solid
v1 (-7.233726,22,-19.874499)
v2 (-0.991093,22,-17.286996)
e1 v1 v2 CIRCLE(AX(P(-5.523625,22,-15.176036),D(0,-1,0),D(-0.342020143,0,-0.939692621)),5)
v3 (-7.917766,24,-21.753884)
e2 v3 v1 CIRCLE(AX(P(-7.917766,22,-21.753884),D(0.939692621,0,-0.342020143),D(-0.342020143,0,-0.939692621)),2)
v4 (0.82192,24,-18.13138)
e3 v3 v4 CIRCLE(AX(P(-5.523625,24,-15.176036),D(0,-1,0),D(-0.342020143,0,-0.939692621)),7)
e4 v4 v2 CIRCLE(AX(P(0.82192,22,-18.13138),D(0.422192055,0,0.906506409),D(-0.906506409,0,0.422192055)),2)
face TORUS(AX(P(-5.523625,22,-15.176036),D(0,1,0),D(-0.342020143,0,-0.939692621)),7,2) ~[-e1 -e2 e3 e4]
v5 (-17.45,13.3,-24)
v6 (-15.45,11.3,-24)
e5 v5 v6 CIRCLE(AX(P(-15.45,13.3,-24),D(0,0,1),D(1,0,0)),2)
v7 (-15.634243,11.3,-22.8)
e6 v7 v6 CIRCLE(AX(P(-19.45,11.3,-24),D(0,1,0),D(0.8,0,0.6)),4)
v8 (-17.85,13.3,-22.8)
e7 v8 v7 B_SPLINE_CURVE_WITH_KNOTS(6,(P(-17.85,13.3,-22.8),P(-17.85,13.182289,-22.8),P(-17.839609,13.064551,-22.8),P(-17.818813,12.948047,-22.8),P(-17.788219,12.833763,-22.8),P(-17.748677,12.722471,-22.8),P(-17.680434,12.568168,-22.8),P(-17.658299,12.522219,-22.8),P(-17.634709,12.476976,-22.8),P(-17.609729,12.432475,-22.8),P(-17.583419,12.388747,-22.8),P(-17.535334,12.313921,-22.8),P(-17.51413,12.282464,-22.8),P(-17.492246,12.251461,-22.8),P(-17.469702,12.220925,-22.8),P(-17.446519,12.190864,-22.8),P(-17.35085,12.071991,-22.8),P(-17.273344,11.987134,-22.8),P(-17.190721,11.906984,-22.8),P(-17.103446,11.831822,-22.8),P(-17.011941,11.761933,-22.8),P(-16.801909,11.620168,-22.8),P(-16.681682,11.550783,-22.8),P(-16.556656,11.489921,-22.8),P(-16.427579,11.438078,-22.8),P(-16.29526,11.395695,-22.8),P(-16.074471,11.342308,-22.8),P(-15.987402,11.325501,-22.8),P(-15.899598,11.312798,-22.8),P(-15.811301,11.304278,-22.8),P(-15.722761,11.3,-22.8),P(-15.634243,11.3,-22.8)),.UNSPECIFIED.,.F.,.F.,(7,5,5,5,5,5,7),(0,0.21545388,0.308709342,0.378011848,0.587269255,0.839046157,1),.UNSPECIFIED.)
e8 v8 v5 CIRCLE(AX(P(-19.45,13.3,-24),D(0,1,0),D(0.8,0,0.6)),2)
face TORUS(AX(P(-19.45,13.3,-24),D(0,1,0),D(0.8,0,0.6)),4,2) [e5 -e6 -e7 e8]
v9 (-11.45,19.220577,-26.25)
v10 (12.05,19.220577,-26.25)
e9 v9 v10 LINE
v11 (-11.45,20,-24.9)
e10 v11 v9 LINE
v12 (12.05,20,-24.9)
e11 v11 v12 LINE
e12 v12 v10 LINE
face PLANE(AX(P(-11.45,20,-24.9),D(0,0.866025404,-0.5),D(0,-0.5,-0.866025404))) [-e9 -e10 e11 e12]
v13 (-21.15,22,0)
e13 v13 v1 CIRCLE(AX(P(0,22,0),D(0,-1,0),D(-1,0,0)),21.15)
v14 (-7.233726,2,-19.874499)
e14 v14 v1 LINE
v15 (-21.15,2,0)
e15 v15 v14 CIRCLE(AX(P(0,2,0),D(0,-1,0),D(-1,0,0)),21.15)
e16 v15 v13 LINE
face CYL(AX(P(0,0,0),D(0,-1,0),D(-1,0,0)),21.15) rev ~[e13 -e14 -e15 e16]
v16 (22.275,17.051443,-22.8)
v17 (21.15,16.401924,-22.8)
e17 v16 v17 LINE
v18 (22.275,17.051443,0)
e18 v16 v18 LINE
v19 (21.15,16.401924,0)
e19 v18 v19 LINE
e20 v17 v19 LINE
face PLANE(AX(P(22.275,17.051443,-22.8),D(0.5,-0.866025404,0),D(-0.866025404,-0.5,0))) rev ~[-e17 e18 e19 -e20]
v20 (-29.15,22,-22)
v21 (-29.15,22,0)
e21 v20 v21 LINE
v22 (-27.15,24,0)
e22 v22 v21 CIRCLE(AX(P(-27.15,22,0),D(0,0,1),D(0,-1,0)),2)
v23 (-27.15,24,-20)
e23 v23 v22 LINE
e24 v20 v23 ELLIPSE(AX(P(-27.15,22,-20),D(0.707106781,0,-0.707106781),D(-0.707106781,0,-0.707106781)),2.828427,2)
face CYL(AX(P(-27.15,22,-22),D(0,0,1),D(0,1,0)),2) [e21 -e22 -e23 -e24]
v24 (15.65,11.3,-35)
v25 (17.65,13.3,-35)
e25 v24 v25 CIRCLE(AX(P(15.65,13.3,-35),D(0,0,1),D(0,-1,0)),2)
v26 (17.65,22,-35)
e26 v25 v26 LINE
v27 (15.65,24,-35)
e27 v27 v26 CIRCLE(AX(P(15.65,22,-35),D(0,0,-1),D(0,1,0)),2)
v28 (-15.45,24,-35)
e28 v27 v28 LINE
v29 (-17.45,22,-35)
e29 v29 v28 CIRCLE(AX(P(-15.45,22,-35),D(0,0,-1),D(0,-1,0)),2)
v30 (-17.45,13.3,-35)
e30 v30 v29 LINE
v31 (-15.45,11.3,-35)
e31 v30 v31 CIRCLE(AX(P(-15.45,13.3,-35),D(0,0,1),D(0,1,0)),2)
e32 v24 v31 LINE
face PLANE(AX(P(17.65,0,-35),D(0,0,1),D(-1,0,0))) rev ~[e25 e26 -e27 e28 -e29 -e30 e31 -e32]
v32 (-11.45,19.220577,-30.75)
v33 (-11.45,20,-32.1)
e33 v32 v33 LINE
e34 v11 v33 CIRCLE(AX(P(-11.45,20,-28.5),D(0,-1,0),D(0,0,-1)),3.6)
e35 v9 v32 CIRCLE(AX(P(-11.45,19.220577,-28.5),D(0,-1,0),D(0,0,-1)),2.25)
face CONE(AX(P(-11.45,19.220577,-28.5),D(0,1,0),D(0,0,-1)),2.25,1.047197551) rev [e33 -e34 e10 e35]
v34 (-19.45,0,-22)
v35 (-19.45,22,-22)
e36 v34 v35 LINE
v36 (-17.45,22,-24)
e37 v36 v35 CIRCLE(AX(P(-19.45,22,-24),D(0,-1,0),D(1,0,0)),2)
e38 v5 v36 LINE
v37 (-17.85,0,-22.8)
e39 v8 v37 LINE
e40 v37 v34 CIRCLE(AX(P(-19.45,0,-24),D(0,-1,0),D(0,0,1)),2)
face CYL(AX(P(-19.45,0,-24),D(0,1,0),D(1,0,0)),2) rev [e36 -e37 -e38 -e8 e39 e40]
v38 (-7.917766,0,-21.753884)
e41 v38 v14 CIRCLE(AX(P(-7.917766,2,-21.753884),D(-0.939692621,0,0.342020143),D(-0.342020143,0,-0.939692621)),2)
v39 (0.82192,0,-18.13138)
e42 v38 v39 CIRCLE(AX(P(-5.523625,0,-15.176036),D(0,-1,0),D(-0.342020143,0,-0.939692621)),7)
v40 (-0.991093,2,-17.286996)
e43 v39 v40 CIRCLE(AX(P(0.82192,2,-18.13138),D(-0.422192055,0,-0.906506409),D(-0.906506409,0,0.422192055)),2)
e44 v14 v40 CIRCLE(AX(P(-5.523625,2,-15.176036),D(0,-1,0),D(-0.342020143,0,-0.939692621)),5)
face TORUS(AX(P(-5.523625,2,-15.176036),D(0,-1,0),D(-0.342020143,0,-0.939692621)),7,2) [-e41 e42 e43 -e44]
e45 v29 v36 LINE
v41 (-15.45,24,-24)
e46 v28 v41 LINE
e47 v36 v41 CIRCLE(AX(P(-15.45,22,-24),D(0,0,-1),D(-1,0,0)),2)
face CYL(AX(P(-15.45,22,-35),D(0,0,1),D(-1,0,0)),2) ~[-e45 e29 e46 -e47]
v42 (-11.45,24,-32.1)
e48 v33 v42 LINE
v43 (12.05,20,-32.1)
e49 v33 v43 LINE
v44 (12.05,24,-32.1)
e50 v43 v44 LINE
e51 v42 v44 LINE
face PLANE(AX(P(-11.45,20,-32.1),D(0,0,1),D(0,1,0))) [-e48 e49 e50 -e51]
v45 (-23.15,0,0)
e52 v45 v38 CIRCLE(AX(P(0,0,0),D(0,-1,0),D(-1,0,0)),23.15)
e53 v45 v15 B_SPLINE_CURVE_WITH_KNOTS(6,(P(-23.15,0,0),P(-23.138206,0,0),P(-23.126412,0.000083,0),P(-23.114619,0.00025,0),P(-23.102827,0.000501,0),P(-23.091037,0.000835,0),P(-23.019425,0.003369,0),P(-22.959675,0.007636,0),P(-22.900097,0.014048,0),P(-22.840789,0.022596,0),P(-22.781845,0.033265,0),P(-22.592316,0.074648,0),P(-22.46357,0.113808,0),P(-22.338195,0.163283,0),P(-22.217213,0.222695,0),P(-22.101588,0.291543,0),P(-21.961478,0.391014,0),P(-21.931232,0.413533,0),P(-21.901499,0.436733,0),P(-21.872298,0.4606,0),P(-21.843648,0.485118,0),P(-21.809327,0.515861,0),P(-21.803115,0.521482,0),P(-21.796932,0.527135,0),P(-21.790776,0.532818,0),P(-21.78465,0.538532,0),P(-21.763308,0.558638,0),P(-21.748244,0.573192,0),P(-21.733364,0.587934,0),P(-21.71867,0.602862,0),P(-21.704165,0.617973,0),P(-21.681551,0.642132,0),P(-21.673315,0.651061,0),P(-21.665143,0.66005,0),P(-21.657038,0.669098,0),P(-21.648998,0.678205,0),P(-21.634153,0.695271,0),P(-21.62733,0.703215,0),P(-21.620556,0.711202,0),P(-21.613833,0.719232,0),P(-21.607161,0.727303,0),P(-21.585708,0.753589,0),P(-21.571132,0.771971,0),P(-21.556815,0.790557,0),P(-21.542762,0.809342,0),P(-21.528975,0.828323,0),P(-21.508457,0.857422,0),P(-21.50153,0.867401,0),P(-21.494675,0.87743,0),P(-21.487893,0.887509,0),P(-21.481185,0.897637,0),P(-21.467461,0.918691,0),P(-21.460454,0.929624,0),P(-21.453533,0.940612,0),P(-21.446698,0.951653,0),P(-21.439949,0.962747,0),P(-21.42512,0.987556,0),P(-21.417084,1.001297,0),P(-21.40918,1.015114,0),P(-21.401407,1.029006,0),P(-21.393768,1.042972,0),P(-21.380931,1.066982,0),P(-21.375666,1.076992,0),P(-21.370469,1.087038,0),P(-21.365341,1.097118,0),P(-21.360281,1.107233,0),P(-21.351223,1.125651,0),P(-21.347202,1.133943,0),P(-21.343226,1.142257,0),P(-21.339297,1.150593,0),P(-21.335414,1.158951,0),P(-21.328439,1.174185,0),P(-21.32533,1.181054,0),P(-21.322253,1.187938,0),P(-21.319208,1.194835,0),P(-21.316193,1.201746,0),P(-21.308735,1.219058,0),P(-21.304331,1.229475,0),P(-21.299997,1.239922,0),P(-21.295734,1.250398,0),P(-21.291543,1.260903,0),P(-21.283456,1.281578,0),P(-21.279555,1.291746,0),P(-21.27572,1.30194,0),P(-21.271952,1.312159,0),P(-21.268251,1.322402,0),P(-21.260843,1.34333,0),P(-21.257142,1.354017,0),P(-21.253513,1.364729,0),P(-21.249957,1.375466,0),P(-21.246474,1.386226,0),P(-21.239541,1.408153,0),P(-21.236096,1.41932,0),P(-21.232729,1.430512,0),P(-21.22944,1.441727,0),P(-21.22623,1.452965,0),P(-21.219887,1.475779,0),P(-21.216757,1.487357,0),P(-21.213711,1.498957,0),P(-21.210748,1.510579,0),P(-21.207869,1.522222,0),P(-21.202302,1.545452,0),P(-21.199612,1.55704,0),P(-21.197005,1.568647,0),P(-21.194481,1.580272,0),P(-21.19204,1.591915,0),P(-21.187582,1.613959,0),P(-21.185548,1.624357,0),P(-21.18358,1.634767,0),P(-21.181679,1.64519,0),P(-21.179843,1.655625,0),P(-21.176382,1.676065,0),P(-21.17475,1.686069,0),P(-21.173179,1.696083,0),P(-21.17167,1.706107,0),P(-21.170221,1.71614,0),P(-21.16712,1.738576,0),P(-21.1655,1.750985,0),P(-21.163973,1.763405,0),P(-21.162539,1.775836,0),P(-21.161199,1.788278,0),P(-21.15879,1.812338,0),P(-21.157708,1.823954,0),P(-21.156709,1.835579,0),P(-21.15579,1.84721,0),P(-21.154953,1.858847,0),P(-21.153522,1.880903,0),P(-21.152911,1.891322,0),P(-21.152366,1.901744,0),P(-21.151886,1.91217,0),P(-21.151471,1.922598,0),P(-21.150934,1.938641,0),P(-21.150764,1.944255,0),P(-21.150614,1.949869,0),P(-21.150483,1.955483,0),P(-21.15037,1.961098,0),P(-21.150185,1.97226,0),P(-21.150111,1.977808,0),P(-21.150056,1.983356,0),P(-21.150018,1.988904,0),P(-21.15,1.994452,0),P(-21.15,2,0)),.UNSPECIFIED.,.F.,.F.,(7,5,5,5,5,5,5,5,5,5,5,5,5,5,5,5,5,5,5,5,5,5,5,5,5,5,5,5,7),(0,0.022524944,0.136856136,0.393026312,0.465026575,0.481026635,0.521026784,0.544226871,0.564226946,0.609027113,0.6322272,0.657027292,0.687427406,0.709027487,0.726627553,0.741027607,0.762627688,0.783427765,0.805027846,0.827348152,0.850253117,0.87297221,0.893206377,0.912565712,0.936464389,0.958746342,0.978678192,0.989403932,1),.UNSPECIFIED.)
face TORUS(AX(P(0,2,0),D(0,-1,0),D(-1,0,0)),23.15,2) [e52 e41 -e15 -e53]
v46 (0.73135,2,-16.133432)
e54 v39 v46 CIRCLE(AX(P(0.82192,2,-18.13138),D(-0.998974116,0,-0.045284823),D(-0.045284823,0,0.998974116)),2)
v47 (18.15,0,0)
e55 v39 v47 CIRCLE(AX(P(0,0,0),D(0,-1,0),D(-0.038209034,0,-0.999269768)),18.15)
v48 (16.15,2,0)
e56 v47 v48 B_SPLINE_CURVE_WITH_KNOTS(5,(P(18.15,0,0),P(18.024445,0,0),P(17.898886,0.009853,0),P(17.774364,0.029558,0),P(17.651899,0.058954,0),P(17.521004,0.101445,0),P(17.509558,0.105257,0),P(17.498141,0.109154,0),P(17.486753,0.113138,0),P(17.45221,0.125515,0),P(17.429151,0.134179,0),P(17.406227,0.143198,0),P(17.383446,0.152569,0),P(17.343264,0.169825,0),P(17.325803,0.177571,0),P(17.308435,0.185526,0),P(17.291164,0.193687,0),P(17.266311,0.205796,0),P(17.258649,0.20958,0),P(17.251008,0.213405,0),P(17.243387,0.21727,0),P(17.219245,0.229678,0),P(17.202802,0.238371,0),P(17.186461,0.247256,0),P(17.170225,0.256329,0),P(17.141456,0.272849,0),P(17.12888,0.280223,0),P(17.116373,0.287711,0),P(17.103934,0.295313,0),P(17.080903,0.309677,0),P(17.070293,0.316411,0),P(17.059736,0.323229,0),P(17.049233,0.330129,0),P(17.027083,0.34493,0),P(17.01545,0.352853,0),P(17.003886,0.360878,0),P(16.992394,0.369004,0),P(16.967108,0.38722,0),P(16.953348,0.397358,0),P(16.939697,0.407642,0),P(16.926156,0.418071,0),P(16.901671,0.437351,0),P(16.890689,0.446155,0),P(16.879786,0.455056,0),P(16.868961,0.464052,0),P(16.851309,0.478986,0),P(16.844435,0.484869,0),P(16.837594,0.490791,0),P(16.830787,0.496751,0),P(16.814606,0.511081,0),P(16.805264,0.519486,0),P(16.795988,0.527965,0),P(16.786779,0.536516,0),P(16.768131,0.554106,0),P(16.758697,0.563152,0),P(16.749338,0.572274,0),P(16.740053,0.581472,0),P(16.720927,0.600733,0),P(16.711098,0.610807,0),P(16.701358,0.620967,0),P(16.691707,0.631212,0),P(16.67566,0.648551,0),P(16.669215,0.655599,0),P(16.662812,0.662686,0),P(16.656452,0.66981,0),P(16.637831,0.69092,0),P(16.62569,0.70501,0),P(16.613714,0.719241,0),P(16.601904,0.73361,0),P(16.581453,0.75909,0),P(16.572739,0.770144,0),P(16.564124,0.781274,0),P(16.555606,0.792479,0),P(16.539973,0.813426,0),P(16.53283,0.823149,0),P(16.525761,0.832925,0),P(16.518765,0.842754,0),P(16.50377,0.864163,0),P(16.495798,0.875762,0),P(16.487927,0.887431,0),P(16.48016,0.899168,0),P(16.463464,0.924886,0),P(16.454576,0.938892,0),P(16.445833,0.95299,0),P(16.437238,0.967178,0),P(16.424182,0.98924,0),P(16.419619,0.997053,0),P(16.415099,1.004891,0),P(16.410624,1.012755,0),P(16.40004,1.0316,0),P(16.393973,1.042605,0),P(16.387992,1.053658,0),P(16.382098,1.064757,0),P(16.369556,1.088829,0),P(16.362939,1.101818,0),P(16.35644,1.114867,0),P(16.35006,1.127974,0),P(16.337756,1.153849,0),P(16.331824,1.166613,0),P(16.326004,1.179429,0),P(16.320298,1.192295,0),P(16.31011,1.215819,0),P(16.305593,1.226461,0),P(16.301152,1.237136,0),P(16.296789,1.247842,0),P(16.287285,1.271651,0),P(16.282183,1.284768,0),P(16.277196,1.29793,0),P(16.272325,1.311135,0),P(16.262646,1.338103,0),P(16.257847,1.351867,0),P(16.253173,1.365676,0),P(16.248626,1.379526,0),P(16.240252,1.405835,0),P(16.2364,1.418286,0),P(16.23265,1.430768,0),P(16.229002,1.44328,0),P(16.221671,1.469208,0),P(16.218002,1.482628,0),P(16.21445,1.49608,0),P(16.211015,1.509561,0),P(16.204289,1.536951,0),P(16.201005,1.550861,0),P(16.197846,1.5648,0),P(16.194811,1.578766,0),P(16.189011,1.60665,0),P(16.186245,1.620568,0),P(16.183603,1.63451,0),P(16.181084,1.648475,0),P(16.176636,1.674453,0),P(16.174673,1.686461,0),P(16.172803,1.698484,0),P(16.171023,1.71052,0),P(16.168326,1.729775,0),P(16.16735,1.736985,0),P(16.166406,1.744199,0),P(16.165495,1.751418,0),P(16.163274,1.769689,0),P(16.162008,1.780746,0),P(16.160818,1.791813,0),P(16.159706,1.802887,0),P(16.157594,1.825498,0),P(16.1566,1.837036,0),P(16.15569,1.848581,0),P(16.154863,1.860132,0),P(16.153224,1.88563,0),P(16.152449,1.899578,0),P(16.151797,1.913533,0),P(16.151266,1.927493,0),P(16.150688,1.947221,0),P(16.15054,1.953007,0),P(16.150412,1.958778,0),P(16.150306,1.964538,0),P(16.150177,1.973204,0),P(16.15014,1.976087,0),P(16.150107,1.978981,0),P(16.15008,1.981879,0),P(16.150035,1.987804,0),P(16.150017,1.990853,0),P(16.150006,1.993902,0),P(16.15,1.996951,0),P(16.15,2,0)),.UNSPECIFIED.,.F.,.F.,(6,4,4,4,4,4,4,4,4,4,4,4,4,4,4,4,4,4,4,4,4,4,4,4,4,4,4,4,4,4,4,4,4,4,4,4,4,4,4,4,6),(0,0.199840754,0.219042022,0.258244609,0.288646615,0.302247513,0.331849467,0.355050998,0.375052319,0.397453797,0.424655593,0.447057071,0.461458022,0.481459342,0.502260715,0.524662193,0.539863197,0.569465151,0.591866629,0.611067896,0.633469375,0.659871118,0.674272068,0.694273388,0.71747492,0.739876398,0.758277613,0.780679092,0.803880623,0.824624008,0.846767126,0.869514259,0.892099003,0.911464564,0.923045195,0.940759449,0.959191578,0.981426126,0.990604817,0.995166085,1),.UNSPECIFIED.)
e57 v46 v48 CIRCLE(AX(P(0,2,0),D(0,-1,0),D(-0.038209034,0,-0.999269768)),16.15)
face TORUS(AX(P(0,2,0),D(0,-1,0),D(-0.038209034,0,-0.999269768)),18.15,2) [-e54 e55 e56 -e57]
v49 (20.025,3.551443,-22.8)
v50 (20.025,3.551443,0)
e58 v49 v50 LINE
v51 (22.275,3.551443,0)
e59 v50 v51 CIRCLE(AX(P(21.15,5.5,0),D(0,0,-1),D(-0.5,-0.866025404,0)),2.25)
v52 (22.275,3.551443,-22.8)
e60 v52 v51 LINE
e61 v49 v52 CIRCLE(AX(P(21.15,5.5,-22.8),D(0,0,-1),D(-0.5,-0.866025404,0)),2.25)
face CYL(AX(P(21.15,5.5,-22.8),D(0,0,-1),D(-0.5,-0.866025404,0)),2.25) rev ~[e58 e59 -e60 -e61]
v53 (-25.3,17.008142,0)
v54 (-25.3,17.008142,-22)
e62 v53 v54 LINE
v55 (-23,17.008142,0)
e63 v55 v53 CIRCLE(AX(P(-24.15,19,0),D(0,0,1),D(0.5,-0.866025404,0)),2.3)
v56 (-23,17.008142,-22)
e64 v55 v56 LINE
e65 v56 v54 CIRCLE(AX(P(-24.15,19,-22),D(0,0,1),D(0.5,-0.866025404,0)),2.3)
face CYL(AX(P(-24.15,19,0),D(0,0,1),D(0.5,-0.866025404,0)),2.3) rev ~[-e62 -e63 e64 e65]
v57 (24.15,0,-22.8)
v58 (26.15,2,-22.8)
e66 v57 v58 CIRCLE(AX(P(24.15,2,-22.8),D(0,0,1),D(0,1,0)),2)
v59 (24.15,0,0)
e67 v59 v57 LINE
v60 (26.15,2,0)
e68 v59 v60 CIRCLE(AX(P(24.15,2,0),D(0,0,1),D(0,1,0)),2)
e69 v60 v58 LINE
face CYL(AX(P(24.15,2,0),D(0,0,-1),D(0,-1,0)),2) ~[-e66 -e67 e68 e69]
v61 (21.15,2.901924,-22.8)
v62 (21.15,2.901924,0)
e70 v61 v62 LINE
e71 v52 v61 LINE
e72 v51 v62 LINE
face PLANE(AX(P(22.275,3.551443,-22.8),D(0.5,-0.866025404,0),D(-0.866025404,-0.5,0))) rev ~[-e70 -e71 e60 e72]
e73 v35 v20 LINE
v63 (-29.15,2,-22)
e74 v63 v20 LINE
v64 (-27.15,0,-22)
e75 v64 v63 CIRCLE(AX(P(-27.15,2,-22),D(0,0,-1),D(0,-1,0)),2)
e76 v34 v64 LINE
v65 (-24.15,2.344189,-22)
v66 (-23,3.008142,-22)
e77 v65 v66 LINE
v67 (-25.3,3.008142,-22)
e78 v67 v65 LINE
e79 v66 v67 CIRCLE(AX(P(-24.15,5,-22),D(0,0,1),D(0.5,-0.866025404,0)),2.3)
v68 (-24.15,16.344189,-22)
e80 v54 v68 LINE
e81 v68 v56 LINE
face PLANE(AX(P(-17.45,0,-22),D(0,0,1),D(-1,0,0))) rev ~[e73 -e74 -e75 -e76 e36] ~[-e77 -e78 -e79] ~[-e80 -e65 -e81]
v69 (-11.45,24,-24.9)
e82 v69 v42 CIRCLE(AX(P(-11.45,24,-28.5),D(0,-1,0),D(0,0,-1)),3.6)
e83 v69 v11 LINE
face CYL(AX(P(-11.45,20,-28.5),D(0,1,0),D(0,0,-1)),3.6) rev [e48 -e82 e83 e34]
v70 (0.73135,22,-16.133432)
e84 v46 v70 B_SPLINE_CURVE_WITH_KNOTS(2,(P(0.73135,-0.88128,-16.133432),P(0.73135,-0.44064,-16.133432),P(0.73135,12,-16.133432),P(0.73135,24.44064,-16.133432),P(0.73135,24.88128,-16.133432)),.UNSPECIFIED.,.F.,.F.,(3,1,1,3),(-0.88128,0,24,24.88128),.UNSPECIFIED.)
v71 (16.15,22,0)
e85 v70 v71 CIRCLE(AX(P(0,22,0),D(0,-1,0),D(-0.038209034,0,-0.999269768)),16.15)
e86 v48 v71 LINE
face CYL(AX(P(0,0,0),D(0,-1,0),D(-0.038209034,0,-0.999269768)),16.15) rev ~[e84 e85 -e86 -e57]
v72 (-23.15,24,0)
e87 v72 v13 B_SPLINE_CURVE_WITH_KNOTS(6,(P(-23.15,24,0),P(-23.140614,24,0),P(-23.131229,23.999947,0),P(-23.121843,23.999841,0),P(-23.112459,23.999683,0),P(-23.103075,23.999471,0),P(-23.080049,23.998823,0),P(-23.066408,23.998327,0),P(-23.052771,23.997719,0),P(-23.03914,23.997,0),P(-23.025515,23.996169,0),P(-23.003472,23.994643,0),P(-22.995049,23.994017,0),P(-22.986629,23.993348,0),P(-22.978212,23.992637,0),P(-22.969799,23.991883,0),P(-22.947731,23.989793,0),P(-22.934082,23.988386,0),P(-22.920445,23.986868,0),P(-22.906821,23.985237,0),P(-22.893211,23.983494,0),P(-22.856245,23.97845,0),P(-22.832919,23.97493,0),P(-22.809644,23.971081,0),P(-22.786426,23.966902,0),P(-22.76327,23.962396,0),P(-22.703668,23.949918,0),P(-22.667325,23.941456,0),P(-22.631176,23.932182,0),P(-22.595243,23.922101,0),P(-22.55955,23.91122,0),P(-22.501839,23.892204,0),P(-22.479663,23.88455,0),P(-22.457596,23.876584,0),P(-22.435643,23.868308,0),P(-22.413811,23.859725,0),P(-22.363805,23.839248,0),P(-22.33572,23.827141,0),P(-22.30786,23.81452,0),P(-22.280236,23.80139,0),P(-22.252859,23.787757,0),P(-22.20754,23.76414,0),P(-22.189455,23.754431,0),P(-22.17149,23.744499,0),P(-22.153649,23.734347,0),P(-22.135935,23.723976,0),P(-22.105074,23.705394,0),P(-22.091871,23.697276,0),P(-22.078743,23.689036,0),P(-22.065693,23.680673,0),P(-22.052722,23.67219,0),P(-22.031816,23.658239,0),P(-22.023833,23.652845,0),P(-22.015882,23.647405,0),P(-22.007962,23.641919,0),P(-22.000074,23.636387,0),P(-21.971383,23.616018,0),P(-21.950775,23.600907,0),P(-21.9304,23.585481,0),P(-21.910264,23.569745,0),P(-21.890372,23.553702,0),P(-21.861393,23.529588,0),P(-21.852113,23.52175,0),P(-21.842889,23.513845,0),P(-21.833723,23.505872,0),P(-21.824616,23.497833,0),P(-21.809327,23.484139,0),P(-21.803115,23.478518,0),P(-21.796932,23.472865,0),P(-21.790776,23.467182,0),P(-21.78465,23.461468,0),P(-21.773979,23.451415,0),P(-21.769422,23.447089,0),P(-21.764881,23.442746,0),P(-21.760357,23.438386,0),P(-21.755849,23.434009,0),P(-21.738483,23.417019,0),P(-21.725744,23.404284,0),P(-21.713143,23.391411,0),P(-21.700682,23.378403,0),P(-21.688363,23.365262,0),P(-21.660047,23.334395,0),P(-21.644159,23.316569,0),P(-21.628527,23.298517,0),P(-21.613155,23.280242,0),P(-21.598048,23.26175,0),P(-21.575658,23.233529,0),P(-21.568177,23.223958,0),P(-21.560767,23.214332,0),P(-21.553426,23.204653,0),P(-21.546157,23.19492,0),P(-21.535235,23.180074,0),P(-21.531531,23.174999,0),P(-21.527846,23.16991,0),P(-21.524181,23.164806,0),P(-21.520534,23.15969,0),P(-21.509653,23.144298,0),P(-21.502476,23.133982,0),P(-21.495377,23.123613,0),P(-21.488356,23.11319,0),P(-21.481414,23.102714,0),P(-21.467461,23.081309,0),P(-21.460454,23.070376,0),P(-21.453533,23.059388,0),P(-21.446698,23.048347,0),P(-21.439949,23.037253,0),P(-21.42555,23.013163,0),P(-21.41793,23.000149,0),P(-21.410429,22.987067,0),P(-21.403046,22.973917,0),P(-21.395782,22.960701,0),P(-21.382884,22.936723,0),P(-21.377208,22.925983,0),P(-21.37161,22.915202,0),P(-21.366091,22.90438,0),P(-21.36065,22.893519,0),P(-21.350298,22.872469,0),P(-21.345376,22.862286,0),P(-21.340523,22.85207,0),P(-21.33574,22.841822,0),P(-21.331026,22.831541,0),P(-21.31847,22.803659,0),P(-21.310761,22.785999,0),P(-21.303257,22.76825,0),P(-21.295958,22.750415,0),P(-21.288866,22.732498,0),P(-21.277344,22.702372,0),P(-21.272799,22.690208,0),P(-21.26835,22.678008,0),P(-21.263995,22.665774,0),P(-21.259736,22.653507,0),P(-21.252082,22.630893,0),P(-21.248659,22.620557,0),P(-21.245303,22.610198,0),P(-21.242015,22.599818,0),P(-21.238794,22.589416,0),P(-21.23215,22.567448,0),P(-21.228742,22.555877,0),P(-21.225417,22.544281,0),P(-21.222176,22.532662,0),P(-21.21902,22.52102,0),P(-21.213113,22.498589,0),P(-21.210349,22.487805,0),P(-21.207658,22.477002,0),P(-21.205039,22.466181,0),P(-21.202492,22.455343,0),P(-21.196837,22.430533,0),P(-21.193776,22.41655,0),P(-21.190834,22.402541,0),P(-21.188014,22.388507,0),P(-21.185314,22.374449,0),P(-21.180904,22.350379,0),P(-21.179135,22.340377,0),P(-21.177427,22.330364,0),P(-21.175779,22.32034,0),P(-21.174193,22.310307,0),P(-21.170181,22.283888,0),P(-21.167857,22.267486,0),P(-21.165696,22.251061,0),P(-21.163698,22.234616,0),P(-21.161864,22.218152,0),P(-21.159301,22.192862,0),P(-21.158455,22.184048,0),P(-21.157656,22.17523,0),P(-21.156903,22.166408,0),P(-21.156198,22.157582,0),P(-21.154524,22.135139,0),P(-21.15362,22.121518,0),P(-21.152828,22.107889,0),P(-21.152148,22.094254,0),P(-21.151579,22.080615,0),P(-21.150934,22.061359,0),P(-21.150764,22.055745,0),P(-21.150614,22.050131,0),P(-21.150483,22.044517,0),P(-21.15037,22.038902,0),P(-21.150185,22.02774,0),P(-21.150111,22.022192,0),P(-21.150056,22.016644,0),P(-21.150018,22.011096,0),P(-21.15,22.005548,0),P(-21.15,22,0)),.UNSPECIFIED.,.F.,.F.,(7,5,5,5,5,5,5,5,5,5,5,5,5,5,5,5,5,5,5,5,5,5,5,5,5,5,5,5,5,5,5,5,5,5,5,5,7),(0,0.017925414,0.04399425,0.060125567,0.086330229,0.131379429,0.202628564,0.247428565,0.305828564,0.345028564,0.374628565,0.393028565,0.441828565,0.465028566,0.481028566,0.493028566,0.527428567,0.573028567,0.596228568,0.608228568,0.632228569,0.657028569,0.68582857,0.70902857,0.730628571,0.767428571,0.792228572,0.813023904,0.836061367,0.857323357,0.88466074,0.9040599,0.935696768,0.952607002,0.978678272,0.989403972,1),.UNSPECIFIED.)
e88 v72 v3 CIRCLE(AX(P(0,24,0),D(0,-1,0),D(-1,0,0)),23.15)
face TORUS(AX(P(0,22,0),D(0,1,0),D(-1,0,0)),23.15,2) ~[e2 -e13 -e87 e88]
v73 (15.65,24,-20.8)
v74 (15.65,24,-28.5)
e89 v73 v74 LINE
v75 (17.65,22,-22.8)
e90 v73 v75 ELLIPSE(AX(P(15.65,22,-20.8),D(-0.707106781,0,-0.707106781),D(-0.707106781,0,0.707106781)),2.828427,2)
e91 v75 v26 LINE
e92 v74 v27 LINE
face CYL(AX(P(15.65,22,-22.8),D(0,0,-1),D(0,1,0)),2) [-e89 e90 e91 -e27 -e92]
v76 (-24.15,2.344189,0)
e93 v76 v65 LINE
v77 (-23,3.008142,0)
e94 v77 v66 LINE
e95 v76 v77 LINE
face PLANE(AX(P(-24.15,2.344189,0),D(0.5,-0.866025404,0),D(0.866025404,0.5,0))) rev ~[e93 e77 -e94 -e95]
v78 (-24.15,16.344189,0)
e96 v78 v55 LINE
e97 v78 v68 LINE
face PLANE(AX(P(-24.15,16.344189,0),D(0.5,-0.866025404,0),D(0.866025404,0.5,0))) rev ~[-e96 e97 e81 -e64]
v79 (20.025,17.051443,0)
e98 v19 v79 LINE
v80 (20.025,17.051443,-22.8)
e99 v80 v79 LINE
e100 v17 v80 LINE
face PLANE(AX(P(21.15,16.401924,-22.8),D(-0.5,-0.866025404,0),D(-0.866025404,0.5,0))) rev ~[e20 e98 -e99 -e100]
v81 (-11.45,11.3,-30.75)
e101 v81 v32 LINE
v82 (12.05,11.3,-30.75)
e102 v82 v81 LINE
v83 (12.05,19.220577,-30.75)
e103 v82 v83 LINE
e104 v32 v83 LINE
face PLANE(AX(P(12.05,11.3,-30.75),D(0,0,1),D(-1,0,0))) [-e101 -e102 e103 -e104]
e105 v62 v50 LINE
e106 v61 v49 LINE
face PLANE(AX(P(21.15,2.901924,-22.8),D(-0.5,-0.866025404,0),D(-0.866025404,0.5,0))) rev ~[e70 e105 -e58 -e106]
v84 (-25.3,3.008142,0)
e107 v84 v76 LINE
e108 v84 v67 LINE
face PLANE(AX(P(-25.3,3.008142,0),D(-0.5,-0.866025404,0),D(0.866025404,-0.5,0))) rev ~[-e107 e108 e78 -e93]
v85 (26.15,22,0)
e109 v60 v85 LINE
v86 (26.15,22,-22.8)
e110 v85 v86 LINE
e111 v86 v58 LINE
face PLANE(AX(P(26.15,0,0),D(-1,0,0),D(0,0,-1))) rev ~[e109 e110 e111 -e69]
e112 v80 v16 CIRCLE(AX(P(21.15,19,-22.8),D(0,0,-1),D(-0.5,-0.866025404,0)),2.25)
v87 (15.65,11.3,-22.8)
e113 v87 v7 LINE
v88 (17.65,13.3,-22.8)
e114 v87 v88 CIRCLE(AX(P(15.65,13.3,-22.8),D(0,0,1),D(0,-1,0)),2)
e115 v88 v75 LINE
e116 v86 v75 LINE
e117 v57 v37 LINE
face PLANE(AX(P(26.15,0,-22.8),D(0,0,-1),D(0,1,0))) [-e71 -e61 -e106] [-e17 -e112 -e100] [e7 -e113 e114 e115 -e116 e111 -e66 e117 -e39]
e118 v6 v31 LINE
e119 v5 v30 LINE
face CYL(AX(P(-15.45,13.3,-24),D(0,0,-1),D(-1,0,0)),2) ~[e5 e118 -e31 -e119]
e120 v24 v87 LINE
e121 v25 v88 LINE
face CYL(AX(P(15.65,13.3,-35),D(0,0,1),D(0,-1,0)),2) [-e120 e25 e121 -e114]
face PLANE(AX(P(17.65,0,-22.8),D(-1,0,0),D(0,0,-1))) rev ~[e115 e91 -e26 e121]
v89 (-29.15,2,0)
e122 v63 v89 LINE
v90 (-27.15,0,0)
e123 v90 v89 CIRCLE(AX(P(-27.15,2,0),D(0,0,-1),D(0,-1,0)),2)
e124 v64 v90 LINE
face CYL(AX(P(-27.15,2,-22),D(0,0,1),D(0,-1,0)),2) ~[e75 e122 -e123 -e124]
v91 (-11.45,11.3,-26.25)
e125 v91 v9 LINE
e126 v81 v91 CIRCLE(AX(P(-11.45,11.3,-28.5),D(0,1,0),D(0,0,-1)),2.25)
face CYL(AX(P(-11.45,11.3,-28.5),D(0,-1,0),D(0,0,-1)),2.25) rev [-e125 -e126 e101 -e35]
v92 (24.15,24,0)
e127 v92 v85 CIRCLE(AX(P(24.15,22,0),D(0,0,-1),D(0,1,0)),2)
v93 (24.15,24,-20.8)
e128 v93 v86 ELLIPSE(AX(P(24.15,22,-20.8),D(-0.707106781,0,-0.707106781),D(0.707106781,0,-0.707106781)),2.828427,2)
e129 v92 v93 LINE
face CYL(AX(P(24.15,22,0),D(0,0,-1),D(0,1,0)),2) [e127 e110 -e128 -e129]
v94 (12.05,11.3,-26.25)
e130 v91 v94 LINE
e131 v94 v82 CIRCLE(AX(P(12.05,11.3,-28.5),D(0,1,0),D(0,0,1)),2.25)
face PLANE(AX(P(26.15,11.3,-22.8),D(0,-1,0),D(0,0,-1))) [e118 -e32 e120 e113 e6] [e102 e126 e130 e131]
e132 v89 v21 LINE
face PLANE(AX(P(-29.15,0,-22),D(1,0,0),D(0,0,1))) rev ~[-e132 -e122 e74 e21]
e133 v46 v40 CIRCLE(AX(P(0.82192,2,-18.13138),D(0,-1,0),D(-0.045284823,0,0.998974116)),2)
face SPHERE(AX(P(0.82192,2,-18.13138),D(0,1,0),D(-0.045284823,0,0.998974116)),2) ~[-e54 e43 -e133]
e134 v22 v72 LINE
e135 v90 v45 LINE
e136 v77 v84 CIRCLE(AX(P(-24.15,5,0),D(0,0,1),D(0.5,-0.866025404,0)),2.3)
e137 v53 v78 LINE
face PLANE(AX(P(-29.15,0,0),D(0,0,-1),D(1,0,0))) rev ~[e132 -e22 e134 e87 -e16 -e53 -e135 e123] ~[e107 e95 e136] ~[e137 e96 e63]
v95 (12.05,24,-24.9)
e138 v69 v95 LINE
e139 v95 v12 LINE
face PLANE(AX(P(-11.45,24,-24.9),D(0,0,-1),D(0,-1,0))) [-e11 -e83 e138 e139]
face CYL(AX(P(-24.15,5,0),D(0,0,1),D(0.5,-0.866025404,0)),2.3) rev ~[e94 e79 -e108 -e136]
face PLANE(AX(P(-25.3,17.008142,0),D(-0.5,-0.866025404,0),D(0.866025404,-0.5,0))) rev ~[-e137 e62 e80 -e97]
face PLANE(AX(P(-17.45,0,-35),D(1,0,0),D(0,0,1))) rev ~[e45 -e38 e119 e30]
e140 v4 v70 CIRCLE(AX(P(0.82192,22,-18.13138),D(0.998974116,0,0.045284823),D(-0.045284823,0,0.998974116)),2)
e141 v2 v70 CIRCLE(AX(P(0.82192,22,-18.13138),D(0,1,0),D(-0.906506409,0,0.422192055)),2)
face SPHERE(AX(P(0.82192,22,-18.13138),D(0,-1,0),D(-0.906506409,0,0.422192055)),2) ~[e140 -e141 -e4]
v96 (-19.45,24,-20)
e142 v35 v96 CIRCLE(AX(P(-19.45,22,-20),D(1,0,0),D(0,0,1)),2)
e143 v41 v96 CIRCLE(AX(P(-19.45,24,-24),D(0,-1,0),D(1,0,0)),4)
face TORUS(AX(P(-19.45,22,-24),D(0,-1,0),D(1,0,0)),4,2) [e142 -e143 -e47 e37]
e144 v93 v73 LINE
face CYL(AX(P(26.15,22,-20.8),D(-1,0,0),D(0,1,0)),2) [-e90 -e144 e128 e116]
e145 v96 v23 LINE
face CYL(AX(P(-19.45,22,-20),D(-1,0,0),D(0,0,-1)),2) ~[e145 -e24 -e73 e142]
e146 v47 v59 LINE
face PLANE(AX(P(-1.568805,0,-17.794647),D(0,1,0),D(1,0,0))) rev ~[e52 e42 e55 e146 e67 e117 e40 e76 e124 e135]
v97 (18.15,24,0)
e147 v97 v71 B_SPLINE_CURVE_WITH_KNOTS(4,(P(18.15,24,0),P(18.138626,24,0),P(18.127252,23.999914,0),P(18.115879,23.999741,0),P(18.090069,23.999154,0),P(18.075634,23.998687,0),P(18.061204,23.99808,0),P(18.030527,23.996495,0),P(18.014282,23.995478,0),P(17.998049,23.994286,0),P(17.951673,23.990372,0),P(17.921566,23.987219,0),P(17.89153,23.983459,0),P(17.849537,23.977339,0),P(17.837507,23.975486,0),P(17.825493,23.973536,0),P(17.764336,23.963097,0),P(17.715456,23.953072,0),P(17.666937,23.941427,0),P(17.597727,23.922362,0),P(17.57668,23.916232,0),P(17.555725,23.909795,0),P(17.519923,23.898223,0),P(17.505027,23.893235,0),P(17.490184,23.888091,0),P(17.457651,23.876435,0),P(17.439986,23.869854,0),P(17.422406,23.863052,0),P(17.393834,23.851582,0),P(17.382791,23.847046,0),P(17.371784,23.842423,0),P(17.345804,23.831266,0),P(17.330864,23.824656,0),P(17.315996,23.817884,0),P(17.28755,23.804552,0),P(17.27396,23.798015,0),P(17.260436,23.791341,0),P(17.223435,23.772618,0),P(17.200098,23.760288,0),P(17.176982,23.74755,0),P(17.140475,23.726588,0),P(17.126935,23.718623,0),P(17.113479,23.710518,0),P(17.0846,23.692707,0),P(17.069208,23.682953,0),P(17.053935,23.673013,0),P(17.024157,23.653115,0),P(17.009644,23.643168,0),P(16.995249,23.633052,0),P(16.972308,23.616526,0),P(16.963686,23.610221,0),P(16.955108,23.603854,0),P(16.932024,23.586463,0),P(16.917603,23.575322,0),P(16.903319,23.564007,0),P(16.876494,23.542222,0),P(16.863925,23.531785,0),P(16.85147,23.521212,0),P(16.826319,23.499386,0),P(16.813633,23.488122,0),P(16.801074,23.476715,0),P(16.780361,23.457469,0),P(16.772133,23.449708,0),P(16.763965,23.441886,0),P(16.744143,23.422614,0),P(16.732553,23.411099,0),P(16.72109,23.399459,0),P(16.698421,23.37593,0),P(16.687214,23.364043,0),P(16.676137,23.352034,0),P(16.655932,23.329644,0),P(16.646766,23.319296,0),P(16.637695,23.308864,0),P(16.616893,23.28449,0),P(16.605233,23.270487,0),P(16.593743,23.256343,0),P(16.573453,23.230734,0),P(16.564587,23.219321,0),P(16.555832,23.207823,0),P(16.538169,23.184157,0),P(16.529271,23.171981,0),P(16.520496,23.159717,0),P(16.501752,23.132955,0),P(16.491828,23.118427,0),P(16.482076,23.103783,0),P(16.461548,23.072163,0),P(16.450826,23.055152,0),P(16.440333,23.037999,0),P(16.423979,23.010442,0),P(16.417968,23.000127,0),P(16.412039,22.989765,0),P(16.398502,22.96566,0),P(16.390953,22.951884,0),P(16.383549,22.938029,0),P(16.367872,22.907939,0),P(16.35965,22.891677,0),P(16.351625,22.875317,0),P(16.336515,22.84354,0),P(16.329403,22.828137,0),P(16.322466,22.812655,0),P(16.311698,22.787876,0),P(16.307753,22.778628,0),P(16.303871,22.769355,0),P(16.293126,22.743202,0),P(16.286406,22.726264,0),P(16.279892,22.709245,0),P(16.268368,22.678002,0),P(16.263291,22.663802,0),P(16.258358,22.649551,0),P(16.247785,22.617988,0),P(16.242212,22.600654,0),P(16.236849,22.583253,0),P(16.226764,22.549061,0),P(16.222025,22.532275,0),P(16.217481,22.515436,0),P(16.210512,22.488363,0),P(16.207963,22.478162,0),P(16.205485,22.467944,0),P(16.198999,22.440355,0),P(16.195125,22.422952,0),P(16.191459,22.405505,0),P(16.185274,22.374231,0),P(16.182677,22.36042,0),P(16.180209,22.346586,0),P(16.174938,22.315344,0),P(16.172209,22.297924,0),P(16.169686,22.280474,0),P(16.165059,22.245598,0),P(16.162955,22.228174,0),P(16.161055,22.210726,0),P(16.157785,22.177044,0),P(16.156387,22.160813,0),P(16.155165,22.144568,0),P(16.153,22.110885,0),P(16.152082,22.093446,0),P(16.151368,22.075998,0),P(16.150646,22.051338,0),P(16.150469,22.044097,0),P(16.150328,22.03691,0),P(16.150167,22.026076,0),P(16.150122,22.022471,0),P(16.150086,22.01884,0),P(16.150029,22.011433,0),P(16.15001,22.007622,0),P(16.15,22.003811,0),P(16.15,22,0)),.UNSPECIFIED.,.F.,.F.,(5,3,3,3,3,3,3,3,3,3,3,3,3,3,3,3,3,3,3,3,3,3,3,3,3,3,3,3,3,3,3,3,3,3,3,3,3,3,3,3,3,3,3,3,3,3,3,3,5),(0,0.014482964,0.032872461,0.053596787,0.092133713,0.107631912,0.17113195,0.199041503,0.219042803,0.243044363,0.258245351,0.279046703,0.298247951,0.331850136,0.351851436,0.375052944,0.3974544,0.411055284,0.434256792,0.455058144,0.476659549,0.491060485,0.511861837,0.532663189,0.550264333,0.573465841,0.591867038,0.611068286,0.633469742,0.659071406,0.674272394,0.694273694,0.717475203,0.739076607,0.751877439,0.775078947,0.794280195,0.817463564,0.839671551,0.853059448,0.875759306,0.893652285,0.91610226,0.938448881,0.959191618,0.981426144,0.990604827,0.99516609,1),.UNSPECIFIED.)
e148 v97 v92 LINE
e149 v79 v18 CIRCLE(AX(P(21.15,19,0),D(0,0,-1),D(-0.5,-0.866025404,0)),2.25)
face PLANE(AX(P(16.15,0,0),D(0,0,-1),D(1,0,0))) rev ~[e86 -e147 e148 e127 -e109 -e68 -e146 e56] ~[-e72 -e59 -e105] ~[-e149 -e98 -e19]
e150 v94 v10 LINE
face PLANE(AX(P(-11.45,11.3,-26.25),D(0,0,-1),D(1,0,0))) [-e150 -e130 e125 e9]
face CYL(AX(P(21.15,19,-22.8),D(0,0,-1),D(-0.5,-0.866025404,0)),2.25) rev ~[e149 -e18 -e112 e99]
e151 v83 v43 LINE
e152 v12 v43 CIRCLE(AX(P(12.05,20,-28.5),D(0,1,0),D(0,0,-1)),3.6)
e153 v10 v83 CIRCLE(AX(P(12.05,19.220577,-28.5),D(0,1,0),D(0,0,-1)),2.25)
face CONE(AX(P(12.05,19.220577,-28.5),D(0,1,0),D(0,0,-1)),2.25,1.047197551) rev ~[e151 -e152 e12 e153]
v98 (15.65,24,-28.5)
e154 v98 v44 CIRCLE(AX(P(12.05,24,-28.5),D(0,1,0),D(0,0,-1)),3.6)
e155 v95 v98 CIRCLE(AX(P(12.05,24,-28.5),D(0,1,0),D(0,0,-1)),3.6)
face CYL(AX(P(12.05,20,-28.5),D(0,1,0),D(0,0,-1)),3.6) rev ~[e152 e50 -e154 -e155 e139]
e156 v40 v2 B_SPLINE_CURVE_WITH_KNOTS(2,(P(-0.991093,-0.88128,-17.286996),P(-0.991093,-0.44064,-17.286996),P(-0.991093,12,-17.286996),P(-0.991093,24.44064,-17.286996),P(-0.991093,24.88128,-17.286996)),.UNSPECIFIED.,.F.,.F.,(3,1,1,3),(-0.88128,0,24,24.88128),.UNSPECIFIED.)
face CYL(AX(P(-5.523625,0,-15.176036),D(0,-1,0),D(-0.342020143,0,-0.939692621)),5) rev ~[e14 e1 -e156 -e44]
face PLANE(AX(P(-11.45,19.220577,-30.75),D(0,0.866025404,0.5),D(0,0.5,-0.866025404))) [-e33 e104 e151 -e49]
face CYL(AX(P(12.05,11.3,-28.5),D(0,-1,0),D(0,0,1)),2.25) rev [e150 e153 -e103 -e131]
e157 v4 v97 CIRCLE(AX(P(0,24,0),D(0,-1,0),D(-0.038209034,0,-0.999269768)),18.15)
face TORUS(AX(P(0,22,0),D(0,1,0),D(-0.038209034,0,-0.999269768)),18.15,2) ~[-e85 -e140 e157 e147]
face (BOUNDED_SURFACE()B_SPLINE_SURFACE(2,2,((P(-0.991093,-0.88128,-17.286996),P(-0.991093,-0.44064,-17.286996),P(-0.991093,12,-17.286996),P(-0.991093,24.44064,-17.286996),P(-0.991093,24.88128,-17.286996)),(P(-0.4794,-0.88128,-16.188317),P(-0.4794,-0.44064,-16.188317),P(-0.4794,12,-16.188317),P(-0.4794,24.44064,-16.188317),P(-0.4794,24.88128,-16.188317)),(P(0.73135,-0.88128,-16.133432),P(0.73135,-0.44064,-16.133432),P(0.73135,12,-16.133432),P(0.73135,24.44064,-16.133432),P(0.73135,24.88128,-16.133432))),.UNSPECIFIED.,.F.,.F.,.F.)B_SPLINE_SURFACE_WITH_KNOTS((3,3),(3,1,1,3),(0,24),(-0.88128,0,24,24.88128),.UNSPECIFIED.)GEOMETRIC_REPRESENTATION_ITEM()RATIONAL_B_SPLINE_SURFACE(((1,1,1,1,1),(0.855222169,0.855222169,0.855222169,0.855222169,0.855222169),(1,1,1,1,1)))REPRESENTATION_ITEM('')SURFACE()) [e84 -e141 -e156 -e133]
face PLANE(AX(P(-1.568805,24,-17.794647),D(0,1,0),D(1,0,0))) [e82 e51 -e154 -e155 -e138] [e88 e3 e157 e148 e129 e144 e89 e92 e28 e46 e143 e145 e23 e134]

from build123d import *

# Parameters (mm, degrees)
AUFSATZ_LINEAR_AUSTRAGEN1_DEPTH = 24
VERRUNDUNG1_R                   = 2
SKIZZE6_R                       = 2.3
SCHNITT_LINEAR_AUSTRAGEN2_DEPTH = 100
SKIZZE7_W                       = 12.2
SKIZZE7_H                       = 11.3
SCHNITT_LINEAR_AUSTRAGEN3_DEPTH = 56.3
SCHNITT_LINEAR_AUSTRAGEN4_DEPTH = 25
SCHNITT_LINEAR_AUSTRAGEN5_DEPTH = 13.7
VERRUNDUNG2_R                   = 2
SCHNITT_LINEAR_AUSTRAGEN6_DEPTH = 23.5


with BuildPart() as part:
    # Skizze1 → Aufsatz-Linear austragen1 (new body)
    with BuildSketch(Plane(origin=(0, 0, 0), x_dir=(1, 0, 0), z_dir=(0, 1, 0))):
        with BuildLine():
            Line((-29.15, 22), (-29.15, 0))
            Line((-29.15, 0), (-21.15, 0))
            ThreePointArc((-21.15, 0), (-17.325065737, 12.131141629), (-7.233726031, 19.87449893))
            ThreePointArc((-7.233726031, 19.87449893), (-3.065111361, 19.529851295), (-0.617075906, 16.138206757))
            ThreePointArc((-0.617075906, 16.138206757), (11.199480437, 11.635898674), (16.15, 0))
            Line((16.15, 0), (26.15, 0))
            Line((26.15, 0), (26.15, 22.8))
            Line((26.15, 22.8), (17.65, 22.8))
            Line((17.65, 22.8), (17.65, 35))
            Line((17.65, 35), (-17.45, 35))
            Line((-17.45, 35), (-17.45, 22))
            Line((-17.45, 22), (-29.15, 22))
        make_face()
    extrude(amount=AUFSATZ_LINEAR_AUSTRAGEN1_DEPTH)

    # Verrundung1
    verrundung1_edges = [part.edges().sort_by_distance(p)[0] for p in [
        (-17.45, 12, -22),
    ]]
    fillet(verrundung1_edges, radius=VERRUNDUNG1_R)

    # Skizze6 → Schnitt-Linear austragen2 (cut)
    with BuildSketch(Plane.XY):
        with Locations((-24.15, 19)):
            Circle(SKIZZE6_R)
        with Locations((-24.15, 5)):
            Circle(SKIZZE6_R)
        with BuildLine():
            Line((-25.3, 17.008141571), (-24.15, 16.344188762))
            Line((-24.15, 16.344188762), (-23, 17.008141571))
            ThreePointArc((-23, 17.008141571), (-24.15, 16.7), (-25.3, 17.008141571))
        make_face()
        with BuildLine():
            Line((-25.3, 3.008141571), (-24.15, 2.344188762))
            Line((-24.15, 2.344188762), (-23, 3.008141571))
            ThreePointArc((-23, 3.008141571), (-24.15, 2.7), (-25.3, 3.008141571))
        make_face()
    extrude(amount=-SCHNITT_LINEAR_AUSTRAGEN2_DEPTH, mode=Mode.SUBTRACT)

    # Skizze7 → Schnitt-Linear austragen3 (cut, through all)
    with BuildSketch(Plane(origin=(26.15, 0, 0), x_dir=(0, 0, -1), z_dir=(1, 0, 0))):
        with Locations((28.9, 5.65)):
            Rectangle(SKIZZE7_W, SKIZZE7_H)
    extrude(amount=-SCHNITT_LINEAR_AUSTRAGEN3_DEPTH, mode=Mode.SUBTRACT)

    # Skizze8 → Schnitt-Linear austragen4 (cut)
    with BuildSketch(Plane(origin=(0, 0, -22.8), x_dir=(-1, 0, 0), z_dir=(0, 0, -1))):
        with BuildLine():
            Line((-22.275, 3.551442841), (-21.15, 2.901923789))
            Line((-21.15, 2.901923789), (-20.025, 3.551442841))
            ThreePointArc((-20.025, 3.551442841), (-21.15, 7.75), (-22.275, 3.551442841))
        make_face()
        with BuildLine():
            Line((-22.275, 17.051442841), (-21.15, 16.401923789))
            Line((-21.15, 16.401923789), (-20.025, 17.051442841))
            ThreePointArc((-20.025, 17.051442841), (-21.15, 21.25), (-22.275, 17.051442841))
        make_face()
    extrude(amount=-SCHNITT_LINEAR_AUSTRAGEN4_DEPTH, mode=Mode.SUBTRACT)

    # Skizze10 → Schnitt-Linear austragen5 (cut, through all)
    with BuildSketch(Plane.XZ.offset(-11.3)):
        with BuildLine():
            Line((-11.45, -26.25), (12.05, -26.25))
            ThreePointArc((12.05, -26.25), (14.3, -28.5), (12.05, -30.75))
            Line((12.05, -30.75), (-11.45, -30.75))
            ThreePointArc((-11.45, -30.75), (-13.7, -28.5), (-11.45, -26.25))
        make_face()
    extrude(amount=-SCHNITT_LINEAR_AUSTRAGEN5_DEPTH, mode=Mode.SUBTRACT)

    # Verrundung2
    verrundung2_edges = [part.edges().sort_by_distance(p)[0] for p in [
        (-3.065111361, 24, -19.529851295),
        (-29.15, 0, -11),
        (11.199480437, 24, -11.635898674),
        (26.15, 0, -11.4),
        (11.199480437, 0, -11.635898674),
        (-3.065111361, 0, -19.529851295),
        (-17.325065737, 0, -12.131141629),
        (-0.617075906, 12, -16.138206757),
        (26.15, 24, -11.4),
        (21.9, 24, -22.8),
        (17.65, 24, -28.9),
        (-17.45, 24, -29.5),
        (-18.035786438, 24, -22.585786438),
        (-24.3, 24, -22),
        (-29.15, 24, -11),
        (-17.325065737, 24, -12.131141629),
        (-17.552633404, 11.3, -23.367544468),
        (17.65, 11.3, -28.9),
        (-17.45, 11.3, -29.5),
    ]]
    fillet(verrundung2_edges, radius=VERRUNDUNG2_R)

    # Skizze12 → Schnitt-Linear austragen6 (cut)
    with BuildSketch(Plane(origin=(-11.45, 0, 0), x_dir=(0, 0, -1), z_dir=(1, 0, 0))):
        Polygon((24.9, 24), (24.9, 20), (26.25, 19.220577137), (30.75, 19.220577137), (32.1, 20), (32.1, 24), align=None)
    extrude(amount=SCHNITT_LINEAR_AUSTRAGEN6_DEPTH, mode=Mode.SUBTRACT)

    # Skizze12<3> one side → Schnitt-Rotation1 (revolve, cut)
    with BuildSketch(Plane(origin=(-11.45, 0, 0), x_dir=(0, 0, -1), z_dir=(1, 0, 0))):
        Polygon((32.1, 24), (28.5, 24), (28.5, 19.220577137), (30.75, 19.220577137), (32.1, 20), align=None)
    schnitt_rotation1 = revolve(axis=Axis((-11.45, 24, -28.5), (0, -1, 0)), mode=Mode.SUBTRACT)

    # Spiegeln1: Schnitt-Rotation1 across plane
    add(schnitt_rotation1.mirror(Plane.ZY.offset(-0.3)), mode=Mode.SUBTRACT)


solid = part.part
